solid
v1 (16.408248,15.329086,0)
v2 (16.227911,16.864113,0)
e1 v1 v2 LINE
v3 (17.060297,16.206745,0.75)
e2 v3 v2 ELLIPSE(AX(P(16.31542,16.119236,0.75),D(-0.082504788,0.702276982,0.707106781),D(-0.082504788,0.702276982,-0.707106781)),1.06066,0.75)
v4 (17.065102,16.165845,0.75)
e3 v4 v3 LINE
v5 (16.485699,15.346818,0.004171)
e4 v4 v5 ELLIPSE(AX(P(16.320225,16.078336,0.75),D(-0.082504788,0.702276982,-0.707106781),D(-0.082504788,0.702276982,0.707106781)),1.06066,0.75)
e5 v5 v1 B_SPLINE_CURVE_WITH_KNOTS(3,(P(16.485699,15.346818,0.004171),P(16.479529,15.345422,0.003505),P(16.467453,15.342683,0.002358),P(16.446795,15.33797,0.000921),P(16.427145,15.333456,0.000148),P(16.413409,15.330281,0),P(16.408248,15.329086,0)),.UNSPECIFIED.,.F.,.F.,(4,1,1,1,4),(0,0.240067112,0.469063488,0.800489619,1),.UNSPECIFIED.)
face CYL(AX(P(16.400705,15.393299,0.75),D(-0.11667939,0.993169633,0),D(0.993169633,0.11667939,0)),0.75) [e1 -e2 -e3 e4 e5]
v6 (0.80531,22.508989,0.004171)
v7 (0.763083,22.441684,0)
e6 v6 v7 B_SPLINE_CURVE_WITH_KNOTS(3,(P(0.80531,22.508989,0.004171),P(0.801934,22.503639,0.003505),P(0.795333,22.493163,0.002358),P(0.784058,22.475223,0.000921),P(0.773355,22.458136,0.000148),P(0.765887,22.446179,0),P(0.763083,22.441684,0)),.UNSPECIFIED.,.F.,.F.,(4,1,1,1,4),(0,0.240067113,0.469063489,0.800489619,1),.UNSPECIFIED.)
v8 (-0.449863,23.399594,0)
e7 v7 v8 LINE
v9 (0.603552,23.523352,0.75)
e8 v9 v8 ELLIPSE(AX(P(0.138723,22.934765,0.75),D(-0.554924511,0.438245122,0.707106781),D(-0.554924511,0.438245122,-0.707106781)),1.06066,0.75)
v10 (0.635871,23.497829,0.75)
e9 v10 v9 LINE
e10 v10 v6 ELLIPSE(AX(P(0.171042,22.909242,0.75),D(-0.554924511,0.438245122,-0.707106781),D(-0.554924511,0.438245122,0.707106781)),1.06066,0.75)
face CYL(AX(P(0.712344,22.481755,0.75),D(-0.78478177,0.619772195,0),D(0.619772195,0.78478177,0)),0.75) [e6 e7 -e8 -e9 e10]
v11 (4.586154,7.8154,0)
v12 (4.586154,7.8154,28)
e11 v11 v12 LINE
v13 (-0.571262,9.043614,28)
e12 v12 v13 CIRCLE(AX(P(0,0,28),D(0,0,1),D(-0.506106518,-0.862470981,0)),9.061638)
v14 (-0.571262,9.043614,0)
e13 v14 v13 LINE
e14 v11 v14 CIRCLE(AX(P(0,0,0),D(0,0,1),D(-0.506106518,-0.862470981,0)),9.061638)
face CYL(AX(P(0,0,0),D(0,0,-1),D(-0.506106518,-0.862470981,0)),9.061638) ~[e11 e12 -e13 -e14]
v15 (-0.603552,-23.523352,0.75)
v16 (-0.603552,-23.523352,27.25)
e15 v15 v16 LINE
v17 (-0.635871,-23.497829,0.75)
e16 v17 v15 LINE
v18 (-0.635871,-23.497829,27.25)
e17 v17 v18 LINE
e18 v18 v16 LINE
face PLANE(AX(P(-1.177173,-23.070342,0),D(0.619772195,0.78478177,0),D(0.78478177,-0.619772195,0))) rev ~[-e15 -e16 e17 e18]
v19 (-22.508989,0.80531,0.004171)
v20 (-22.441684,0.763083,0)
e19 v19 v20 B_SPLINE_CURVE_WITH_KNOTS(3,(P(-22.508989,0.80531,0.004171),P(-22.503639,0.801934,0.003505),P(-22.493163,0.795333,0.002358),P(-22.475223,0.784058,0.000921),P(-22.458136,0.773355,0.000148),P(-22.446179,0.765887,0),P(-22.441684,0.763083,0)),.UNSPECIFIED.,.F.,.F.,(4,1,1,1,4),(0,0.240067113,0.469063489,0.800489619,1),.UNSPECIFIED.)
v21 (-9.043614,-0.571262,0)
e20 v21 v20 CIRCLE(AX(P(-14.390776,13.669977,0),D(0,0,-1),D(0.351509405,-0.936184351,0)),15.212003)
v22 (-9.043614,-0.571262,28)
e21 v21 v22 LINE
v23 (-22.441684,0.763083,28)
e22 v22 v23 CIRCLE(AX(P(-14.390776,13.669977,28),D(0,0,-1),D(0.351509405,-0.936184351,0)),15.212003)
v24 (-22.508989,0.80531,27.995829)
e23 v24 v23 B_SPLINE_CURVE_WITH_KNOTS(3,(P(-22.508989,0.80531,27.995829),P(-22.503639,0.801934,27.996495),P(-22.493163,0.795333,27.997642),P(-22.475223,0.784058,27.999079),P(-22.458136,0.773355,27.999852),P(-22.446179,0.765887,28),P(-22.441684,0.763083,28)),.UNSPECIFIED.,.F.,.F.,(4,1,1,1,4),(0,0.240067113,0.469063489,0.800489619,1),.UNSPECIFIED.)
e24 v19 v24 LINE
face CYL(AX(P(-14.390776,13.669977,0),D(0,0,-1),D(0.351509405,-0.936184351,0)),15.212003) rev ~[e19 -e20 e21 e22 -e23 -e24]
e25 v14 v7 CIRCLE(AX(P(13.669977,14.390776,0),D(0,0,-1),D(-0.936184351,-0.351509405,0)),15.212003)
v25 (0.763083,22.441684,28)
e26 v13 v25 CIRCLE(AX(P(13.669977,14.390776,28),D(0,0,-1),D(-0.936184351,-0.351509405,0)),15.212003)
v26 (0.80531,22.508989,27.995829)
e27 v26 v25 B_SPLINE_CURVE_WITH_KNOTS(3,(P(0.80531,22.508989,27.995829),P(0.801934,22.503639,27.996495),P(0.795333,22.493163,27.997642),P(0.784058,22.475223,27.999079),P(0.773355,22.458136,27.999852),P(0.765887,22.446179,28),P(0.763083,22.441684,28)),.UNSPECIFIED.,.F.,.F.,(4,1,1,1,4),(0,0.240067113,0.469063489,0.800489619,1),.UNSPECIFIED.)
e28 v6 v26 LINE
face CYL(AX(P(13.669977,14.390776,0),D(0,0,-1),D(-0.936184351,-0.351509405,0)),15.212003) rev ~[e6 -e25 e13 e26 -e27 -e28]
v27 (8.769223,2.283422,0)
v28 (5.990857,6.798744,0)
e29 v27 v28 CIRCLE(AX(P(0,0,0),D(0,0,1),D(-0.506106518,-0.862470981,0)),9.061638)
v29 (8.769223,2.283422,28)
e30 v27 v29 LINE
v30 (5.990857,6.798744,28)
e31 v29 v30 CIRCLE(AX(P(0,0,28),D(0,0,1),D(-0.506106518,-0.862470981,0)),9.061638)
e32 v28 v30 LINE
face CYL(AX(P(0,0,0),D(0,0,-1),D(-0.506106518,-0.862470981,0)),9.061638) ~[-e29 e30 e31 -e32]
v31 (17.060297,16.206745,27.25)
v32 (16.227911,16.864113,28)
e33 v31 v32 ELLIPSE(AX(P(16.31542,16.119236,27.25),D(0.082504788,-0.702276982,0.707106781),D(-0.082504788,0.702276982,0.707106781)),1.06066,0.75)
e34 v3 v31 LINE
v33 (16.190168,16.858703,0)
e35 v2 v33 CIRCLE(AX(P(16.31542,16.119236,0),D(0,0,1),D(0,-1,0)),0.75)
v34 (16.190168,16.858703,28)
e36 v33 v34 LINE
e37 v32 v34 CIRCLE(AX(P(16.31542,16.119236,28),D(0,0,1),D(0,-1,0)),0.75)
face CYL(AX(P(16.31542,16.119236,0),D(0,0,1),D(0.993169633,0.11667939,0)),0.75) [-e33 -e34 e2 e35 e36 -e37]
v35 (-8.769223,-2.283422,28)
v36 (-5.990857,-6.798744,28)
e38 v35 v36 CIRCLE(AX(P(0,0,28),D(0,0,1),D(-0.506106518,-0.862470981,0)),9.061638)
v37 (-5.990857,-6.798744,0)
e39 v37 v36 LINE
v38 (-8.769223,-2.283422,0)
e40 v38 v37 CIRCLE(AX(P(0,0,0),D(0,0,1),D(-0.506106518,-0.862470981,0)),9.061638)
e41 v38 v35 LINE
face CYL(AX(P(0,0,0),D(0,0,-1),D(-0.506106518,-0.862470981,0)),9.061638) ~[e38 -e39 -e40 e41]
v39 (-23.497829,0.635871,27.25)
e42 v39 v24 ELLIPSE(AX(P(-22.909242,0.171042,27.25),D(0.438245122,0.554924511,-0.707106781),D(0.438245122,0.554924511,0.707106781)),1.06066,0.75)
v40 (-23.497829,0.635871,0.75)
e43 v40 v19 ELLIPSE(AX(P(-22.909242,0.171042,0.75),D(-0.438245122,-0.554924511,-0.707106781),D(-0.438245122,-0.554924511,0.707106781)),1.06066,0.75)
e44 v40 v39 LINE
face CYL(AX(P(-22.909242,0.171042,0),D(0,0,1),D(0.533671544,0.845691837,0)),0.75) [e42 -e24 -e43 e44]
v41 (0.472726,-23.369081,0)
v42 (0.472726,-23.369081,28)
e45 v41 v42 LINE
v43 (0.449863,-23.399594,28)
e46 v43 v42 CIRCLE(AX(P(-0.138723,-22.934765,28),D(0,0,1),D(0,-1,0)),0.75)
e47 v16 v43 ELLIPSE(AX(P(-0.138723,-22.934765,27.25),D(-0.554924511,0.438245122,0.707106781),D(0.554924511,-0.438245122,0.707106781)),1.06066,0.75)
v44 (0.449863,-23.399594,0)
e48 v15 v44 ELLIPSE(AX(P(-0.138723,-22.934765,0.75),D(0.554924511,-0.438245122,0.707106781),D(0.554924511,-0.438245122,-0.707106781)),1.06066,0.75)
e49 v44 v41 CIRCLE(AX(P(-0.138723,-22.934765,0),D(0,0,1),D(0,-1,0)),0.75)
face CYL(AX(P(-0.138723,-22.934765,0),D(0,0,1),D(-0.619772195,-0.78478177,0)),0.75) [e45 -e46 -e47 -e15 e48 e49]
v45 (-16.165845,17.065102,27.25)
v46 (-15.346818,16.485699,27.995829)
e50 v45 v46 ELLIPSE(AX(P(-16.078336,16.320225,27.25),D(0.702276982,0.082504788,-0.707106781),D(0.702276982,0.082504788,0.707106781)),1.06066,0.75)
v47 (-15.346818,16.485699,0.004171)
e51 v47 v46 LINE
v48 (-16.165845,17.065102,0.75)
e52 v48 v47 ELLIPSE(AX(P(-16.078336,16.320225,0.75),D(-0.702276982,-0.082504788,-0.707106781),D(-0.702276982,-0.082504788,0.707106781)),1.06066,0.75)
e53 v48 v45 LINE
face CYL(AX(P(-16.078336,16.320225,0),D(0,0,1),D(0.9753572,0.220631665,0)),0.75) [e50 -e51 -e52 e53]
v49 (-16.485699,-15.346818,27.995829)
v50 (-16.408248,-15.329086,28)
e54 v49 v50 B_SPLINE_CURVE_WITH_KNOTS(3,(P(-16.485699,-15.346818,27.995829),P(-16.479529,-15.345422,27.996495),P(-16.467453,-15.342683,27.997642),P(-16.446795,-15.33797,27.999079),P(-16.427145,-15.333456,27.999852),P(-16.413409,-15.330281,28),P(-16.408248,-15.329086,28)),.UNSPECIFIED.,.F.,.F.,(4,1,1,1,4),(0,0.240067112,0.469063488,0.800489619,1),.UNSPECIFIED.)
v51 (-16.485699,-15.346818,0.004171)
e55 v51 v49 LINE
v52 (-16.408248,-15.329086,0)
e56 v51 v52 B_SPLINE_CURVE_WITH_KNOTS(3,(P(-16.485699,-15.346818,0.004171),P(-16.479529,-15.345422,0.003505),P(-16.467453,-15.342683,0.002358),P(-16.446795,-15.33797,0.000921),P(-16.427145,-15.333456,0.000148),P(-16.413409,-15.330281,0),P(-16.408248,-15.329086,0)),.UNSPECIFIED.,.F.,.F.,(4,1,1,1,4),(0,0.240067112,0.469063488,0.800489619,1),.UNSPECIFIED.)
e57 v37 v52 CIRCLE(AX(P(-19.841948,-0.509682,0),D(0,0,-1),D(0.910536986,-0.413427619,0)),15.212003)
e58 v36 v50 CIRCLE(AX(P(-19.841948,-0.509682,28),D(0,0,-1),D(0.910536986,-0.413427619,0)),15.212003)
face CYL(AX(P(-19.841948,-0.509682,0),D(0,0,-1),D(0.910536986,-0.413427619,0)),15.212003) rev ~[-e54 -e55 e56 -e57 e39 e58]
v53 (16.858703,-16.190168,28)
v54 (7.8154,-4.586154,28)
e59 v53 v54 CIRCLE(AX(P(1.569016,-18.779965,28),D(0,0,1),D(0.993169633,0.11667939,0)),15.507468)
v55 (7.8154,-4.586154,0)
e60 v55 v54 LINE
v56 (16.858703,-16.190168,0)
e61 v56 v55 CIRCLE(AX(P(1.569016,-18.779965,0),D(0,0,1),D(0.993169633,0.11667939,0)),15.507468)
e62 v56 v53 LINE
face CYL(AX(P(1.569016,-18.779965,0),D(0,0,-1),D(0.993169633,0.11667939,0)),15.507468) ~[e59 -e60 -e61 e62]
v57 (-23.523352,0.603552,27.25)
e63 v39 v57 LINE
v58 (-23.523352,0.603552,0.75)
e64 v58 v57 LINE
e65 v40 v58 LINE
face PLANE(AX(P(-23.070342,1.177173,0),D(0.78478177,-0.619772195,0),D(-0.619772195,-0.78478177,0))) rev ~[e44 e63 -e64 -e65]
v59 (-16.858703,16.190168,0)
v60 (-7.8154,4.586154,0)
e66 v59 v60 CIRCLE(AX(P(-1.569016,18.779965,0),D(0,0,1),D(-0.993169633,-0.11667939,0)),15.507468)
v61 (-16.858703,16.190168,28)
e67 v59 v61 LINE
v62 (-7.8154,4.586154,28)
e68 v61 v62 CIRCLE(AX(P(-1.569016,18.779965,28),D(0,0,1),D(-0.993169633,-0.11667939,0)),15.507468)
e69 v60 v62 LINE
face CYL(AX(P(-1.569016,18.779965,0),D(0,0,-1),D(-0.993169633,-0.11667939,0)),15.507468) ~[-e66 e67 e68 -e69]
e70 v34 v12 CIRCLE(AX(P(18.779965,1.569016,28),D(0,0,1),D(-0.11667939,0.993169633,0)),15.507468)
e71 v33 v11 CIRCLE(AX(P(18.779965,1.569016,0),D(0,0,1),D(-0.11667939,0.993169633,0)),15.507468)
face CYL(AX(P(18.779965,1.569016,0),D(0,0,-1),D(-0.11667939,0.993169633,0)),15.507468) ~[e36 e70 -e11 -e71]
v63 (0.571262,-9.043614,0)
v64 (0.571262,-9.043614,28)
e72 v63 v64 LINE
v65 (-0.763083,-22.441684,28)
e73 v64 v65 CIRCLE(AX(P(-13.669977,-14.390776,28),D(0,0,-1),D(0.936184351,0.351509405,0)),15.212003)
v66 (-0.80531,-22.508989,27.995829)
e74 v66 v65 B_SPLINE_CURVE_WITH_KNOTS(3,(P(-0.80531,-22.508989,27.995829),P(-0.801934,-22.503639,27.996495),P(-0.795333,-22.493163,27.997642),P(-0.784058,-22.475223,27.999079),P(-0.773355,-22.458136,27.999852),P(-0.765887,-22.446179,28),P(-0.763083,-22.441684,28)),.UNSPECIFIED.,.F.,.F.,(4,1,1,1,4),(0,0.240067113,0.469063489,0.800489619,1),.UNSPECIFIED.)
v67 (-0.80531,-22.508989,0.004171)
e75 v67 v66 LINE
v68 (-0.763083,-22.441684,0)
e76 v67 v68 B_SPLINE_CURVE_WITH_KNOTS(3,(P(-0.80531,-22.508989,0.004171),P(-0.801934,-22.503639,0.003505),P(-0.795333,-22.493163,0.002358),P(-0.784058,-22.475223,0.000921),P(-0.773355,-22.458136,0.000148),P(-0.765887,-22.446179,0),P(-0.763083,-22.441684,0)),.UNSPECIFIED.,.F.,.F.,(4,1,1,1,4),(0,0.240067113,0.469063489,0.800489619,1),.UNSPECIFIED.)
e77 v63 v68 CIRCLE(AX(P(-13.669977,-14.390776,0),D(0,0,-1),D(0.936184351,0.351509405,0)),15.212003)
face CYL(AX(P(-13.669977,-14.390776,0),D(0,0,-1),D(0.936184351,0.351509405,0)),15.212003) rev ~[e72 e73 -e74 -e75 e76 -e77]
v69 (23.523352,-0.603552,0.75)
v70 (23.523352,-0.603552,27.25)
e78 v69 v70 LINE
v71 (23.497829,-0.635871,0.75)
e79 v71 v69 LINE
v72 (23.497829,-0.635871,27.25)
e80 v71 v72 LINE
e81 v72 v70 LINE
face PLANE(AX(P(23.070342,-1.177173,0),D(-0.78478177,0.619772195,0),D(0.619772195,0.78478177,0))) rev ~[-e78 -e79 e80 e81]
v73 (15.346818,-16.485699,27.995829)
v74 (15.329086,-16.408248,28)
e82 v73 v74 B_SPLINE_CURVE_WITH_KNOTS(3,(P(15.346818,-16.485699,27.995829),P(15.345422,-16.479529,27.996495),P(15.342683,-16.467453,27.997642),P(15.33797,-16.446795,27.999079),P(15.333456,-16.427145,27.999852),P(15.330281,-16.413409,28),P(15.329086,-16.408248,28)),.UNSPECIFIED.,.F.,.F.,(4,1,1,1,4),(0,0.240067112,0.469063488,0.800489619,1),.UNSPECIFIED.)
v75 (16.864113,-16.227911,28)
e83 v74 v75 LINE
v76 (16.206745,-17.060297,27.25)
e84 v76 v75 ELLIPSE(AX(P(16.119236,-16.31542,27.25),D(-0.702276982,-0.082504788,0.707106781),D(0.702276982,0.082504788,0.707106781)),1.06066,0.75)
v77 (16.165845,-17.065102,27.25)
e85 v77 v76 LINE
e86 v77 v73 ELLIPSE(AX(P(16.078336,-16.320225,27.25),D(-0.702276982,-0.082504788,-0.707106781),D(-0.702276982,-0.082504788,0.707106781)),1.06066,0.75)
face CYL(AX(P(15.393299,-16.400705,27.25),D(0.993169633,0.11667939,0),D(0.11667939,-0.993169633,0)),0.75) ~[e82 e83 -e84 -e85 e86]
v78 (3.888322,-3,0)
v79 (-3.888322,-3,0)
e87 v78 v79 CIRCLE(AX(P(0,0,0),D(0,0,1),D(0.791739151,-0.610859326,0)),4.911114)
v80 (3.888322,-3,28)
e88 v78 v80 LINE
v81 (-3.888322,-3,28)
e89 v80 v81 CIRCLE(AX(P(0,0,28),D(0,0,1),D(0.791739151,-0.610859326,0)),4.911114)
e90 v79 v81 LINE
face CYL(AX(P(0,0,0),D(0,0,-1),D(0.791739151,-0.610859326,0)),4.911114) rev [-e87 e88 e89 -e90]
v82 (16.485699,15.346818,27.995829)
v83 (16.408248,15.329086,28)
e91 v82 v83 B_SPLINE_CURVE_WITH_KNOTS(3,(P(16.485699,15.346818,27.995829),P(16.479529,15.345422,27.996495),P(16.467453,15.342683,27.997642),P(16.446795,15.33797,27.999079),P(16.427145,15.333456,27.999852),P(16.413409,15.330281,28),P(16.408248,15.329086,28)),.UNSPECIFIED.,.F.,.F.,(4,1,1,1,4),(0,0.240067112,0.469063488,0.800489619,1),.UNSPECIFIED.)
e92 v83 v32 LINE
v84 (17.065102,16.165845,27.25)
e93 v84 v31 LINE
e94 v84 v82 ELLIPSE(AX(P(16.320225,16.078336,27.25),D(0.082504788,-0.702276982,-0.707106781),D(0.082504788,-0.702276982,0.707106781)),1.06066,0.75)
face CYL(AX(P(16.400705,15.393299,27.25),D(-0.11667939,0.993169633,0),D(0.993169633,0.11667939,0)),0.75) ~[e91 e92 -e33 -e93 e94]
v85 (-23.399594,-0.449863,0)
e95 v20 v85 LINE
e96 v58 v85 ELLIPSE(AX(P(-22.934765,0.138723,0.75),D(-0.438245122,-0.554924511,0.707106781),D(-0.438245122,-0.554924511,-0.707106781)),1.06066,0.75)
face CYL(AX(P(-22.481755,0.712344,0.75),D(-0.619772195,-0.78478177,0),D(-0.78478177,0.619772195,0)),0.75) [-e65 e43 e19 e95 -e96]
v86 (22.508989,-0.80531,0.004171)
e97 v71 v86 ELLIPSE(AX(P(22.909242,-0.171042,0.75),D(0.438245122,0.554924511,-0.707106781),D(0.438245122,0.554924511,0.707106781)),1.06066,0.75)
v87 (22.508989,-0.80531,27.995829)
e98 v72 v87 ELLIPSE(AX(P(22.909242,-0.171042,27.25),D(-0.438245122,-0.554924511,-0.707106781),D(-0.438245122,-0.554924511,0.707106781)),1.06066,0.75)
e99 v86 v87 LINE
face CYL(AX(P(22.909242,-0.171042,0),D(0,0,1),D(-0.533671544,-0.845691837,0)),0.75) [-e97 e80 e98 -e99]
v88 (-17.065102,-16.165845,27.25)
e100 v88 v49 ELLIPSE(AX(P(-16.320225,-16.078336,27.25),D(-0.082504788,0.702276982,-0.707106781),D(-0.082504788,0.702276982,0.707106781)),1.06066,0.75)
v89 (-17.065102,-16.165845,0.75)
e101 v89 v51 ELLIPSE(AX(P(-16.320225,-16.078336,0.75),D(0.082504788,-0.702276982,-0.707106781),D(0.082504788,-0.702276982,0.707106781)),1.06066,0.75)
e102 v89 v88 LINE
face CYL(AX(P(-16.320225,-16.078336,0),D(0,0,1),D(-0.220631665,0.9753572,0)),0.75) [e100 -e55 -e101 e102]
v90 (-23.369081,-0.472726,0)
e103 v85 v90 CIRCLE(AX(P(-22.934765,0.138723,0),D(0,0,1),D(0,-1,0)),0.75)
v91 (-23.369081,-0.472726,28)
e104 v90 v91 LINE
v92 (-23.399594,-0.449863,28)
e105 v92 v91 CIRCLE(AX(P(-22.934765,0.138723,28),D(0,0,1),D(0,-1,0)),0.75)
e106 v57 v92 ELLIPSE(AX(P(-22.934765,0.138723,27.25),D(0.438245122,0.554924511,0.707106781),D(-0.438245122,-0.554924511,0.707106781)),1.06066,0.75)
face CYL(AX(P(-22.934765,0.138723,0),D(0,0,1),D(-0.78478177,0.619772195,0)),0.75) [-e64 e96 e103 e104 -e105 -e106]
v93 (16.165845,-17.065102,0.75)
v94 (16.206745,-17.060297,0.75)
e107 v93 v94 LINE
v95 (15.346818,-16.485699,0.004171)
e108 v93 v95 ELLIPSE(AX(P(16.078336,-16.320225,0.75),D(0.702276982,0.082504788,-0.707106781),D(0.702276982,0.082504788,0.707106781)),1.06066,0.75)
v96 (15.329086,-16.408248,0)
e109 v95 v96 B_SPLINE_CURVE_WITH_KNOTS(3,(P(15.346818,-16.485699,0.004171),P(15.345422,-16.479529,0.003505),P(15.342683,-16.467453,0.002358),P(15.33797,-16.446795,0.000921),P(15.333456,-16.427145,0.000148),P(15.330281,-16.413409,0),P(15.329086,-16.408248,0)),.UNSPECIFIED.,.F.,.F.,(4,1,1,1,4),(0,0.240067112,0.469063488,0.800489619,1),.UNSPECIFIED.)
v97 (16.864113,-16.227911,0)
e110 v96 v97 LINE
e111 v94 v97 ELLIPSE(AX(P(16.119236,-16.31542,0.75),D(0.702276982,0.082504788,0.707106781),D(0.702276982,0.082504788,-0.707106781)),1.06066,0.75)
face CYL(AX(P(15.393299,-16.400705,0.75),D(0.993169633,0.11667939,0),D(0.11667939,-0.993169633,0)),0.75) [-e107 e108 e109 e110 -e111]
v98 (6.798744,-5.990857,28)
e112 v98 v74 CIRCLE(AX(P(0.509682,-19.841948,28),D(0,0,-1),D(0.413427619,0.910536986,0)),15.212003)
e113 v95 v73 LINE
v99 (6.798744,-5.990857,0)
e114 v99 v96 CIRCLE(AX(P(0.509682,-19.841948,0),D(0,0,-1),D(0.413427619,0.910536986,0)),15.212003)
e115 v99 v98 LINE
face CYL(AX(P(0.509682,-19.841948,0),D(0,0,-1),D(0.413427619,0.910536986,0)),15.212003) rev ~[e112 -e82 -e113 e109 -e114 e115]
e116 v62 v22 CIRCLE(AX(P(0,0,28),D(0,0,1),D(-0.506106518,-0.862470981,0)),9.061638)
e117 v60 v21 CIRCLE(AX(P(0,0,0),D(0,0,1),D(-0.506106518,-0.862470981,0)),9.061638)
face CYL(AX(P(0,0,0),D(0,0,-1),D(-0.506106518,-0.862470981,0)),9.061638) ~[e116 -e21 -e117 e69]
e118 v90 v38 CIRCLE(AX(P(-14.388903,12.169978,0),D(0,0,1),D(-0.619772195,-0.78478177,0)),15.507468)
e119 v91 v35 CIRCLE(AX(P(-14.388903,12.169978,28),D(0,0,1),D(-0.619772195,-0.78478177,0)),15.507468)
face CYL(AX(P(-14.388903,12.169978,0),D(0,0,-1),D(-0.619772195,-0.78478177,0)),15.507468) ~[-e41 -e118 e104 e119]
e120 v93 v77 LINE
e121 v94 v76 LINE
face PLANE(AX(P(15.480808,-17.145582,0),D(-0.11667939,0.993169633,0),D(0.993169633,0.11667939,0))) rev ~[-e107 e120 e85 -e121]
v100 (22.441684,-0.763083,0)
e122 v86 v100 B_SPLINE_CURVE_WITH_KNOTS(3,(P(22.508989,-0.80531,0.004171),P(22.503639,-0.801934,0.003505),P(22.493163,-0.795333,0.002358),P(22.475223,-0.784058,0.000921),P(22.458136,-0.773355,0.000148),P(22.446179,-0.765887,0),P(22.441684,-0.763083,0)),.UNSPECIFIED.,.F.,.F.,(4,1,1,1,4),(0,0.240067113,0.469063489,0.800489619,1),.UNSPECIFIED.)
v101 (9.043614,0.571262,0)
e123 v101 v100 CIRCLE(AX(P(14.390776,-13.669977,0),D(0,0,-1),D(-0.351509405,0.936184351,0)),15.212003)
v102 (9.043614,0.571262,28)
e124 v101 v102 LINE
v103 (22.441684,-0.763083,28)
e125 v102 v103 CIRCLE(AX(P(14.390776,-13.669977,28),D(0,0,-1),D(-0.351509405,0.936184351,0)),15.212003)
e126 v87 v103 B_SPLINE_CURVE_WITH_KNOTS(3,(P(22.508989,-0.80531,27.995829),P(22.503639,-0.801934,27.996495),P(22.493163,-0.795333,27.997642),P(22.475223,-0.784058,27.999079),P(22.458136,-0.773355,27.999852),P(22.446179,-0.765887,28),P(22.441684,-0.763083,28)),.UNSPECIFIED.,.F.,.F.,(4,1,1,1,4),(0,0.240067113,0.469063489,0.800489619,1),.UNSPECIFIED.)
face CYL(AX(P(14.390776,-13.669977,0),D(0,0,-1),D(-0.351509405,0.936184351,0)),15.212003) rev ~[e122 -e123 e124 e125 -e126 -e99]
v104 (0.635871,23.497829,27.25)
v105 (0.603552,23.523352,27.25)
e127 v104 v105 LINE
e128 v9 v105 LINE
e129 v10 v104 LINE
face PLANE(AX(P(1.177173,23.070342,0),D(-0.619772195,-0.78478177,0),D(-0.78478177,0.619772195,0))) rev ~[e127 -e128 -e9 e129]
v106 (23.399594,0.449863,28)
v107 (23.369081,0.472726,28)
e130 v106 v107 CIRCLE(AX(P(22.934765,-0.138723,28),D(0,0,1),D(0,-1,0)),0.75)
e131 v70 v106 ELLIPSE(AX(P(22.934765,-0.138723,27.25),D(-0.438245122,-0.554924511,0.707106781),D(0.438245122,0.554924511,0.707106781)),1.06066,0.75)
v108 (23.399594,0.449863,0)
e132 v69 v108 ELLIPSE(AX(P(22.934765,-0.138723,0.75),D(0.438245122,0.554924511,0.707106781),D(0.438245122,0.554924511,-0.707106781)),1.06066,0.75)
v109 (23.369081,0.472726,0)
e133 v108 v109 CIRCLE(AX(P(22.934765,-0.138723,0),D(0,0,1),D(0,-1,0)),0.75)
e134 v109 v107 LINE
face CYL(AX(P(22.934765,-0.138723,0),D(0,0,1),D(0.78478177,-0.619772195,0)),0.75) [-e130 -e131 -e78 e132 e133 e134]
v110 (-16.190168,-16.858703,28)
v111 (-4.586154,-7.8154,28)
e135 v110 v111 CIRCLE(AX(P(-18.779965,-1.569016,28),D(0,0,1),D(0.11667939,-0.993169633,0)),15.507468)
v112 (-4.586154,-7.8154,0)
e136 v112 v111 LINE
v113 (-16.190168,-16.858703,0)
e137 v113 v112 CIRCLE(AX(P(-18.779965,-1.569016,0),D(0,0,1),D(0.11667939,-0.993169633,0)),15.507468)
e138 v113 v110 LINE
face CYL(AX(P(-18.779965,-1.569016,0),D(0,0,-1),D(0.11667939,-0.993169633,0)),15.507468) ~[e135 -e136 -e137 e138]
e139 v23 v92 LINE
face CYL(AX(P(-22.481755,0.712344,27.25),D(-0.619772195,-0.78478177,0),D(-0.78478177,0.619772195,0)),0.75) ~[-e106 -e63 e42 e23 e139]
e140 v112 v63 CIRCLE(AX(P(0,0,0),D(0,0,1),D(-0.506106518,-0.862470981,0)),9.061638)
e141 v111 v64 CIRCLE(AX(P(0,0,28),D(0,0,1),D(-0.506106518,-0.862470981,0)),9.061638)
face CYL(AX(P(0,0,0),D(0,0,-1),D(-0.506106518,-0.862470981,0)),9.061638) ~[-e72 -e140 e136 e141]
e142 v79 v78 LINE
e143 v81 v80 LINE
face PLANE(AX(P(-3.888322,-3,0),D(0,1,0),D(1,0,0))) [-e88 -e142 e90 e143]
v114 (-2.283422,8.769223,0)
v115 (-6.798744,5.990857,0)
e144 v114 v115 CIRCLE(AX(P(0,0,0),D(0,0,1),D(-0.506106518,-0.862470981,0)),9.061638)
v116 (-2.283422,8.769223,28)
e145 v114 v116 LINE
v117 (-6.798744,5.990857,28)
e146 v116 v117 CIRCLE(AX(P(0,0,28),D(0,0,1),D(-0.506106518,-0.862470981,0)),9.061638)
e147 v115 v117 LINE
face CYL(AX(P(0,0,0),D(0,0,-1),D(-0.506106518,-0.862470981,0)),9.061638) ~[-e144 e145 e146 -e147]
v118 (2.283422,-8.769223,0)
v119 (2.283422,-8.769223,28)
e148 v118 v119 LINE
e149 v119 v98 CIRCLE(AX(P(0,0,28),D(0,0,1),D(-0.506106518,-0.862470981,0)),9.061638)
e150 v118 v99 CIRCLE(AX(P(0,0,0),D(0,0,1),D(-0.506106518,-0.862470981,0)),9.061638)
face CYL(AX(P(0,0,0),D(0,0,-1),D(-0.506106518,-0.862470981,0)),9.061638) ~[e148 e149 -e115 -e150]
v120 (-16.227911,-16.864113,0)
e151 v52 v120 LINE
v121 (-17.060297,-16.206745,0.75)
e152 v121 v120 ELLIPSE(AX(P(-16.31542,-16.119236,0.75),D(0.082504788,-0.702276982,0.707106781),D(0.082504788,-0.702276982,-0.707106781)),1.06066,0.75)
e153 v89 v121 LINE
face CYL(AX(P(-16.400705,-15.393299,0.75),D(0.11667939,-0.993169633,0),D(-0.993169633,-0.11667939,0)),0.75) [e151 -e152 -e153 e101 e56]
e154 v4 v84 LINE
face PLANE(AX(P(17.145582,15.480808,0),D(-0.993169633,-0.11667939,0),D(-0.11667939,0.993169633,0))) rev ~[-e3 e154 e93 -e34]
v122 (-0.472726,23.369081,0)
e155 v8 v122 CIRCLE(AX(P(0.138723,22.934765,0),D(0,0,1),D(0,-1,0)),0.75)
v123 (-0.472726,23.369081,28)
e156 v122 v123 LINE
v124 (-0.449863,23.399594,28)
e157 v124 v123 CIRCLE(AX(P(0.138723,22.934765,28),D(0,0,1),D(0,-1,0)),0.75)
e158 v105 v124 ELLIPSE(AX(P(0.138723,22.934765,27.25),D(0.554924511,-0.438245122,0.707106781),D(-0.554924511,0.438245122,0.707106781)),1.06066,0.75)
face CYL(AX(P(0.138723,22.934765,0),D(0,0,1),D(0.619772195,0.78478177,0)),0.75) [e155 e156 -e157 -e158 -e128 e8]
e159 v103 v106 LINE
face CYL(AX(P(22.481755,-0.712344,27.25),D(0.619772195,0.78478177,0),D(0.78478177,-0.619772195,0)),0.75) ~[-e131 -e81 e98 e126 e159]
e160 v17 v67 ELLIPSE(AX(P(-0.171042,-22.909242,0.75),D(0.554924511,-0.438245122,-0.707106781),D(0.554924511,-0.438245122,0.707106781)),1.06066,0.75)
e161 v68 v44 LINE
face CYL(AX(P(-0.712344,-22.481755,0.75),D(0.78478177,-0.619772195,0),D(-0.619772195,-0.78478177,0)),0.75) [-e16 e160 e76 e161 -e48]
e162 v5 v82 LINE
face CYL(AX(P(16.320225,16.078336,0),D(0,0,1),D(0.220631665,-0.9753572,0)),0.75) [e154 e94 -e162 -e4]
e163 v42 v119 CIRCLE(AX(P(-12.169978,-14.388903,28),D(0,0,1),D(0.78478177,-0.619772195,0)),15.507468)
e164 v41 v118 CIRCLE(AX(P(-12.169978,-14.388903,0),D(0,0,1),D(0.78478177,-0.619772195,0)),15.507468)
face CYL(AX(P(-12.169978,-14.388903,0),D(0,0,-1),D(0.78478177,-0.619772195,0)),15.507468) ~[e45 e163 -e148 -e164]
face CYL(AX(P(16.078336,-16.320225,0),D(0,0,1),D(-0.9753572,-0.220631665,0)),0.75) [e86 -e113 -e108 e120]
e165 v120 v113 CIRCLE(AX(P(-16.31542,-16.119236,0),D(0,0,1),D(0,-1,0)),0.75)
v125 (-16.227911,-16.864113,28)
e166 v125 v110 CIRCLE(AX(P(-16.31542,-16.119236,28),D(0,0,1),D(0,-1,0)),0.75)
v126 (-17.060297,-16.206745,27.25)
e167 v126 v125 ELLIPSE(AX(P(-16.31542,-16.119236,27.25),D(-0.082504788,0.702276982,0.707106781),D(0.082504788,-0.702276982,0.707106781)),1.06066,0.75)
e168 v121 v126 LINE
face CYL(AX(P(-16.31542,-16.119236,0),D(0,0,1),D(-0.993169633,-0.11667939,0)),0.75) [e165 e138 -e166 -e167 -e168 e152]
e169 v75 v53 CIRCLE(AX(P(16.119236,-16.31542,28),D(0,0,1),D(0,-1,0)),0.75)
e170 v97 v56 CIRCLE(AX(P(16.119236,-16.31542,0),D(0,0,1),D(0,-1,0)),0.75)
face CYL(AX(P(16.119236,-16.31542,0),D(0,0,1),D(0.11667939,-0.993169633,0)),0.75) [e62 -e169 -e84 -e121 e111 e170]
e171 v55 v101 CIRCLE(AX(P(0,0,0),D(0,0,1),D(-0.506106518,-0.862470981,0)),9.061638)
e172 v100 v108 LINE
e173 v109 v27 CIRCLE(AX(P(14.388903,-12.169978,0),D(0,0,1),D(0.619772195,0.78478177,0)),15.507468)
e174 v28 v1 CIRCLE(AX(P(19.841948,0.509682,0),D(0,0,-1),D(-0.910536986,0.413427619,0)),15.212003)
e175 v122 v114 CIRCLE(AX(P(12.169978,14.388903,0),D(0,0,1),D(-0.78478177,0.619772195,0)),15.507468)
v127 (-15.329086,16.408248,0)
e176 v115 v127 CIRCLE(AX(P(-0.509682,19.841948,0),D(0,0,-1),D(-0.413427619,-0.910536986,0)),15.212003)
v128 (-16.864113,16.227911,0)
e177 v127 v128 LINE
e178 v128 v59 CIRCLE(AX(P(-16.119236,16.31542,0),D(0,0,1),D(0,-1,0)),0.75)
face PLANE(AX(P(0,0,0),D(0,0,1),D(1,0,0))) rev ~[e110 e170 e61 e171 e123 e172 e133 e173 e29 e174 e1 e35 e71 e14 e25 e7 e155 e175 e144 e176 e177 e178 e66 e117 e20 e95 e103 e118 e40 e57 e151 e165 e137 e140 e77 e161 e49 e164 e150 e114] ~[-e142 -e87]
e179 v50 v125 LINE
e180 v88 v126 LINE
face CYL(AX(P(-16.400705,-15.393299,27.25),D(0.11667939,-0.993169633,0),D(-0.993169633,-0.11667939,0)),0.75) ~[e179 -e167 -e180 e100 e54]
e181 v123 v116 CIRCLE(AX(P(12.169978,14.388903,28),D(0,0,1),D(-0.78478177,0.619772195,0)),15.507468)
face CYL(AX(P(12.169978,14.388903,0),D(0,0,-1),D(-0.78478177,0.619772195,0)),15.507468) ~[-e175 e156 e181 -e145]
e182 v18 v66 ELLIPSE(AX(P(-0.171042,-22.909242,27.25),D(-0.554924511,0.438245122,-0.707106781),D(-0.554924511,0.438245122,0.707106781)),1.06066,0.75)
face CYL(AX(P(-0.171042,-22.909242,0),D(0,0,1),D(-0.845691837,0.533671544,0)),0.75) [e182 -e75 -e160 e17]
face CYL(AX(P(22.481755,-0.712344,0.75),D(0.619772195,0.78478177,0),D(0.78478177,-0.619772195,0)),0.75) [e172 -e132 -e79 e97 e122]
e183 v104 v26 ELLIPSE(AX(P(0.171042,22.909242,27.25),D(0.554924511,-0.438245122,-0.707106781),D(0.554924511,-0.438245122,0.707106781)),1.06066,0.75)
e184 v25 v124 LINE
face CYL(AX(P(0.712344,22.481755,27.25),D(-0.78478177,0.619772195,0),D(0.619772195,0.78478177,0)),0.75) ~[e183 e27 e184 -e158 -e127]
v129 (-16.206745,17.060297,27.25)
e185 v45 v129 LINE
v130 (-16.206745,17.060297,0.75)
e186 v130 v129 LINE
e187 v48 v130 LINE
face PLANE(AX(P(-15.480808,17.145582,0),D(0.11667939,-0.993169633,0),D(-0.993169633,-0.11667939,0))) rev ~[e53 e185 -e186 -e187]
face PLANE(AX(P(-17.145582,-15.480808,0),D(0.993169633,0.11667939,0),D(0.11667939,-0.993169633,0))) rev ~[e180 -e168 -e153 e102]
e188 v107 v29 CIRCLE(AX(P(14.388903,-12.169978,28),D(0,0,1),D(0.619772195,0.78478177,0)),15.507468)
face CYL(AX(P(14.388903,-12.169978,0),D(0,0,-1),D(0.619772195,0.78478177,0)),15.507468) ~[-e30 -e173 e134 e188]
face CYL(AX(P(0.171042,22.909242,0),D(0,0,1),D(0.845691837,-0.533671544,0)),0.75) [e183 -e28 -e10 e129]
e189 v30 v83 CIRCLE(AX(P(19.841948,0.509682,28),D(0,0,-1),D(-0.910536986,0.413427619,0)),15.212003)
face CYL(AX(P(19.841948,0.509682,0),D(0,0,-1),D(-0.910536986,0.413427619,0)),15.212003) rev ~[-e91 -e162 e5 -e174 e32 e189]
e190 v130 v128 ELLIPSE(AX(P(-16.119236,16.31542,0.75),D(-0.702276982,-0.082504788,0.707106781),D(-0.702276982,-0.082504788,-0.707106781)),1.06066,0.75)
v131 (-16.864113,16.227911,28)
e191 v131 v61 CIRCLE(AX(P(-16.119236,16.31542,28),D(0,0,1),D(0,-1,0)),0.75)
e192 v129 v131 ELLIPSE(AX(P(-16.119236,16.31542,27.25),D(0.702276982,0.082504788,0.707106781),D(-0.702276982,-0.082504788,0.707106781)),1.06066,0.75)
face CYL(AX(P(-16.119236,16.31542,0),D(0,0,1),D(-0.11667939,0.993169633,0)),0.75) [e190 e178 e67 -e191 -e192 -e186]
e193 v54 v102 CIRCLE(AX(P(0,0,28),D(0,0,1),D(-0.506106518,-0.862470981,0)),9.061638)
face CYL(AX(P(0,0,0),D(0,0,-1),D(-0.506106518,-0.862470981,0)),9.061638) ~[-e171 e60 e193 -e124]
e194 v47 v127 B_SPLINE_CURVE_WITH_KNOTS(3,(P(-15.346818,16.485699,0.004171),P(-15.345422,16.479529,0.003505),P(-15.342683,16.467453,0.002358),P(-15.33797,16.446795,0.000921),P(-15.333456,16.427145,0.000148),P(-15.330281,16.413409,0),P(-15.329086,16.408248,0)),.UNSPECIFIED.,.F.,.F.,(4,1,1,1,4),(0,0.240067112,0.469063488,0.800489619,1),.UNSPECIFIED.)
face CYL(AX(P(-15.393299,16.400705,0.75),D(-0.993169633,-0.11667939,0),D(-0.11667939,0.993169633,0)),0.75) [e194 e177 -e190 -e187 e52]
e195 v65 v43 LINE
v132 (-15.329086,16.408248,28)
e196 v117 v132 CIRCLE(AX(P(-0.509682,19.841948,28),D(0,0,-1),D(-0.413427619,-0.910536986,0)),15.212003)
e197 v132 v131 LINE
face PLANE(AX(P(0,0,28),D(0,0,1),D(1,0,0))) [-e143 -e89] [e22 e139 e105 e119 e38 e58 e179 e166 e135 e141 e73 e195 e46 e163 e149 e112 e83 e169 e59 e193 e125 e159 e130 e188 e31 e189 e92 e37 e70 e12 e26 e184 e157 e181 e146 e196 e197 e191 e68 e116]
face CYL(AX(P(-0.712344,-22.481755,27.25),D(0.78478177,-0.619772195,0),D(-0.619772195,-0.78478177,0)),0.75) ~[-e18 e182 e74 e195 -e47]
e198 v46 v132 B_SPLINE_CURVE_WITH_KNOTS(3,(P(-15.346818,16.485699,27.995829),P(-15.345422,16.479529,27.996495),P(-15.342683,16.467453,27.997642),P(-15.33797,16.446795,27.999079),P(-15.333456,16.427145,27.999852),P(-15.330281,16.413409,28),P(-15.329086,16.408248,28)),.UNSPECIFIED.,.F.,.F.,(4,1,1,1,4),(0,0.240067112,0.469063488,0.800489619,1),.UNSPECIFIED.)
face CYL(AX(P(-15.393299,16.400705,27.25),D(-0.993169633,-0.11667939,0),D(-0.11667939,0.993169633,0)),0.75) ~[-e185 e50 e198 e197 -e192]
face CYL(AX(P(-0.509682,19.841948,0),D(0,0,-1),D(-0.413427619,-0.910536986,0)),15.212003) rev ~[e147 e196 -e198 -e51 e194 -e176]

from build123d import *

# Parameters (mm, degrees)
SKETCH1_R           = 9.061638146
BOSS_EXTRUDE1_DEPTH = 28
FILLET1_R           = 0.75


with BuildPart() as part:
    # Sketch1 → Boss-Extrude1 (new body)
    with BuildSketch(Plane.XY):
        Circle(SKETCH1_R)
        with BuildLine():
            ThreePointArc((3.888321502, -3), (0, 4.911114344), (-3.888321502, -3))
            Line((-3.888321502, -3), (3.888321502, -3))
        make_face(mode=Mode.SUBTRACT)
        with BuildLine():
            ThreePointArc((-4.58615413, -7.815399938), (-5.312879632, -7.340749002), (-5.990857259, -6.798743648))
            ThreePointArc((-5.990857259, -6.798743648), (-10.498546947, -12.514092303), (-17.145581833, -15.480808299))
            Line((-17.145581833, -15.480808299), (-16.970562748, -16.970562748))
            ThreePointArc((-16.970562748, -16.970562748), (-9.561507432, -14.039044926), (-4.58615413, -7.815399938))
        make_face()
        with BuildLine():
            ThreePointArc((-8.769222979, -2.283421609), (-8.947466614, -1.433920183), (-9.04361353, -0.571261944))
            ThreePointArc((-9.04361353, -0.571261944), (-16.272393267, -1.425205789), (-23.070341708, 1.177172655))
            Line((-23.070341708, 1.177172655), (-24, 0))
            ThreePointArc((-24, 0), (-16.688110612, -3.166097125), (-8.769222979, -2.283421609))
        make_face()
        with BuildLine():
            ThreePointArc((-7.815399938, 4.58615413), (-7.340749002, 5.312879632), (-6.798743648, 5.990857259))
            ThreePointArc((-6.798743648, 5.990857259), (-12.514092303, 10.498546947), (-15.480808299, 17.145581833))
            Line((-15.480808299, 17.145581833), (-16.970562748, 16.970562748))
            ThreePointArc((-16.970562748, 16.970562748), (-14.039044926, 9.561507432), (-7.815399938, 4.58615413))
        make_face()
        with BuildLine():
            Line((1.177172655, 23.070341708), (0, 24))
            ThreePointArc((0, 24), (-3.166097125, 16.688110612), (-2.283421609, 8.769222979))
            ThreePointArc((-2.283421609, 8.769222979), (-1.433920183, 8.947466614), (-0.571261944, 9.04361353))
            ThreePointArc((-0.571261944, 9.04361353), (-1.425205789, 16.272393267), (1.177172655, 23.070341708))
        make_face()
        with BuildLine():
            ThreePointArc((16.970562748, 16.970562748), (9.561507432, 14.039044926), (4.58615413, 7.815399938))
            ThreePointArc((4.58615413, 7.815399938), (5.312879632, 7.340749002), (5.990857259, 6.798743648))
            ThreePointArc((5.990857259, 6.798743648), (10.498546947, 12.514092303), (17.145581833, 15.480808299))
            Line((17.145581833, 15.480808299), (16.970562748, 16.970562748))
        make_face()
        with BuildLine():
            ThreePointArc((24, 0), (16.688110612, 3.166097125), (8.769222979, 2.283421609))
            ThreePointArc((8.769222979, 2.283421609), (8.947466614, 1.433920183), (9.04361353, 0.571261944))
            ThreePointArc((9.04361353, 0.571261944), (16.272393267, 1.425205789), (23.070341708, -1.177172655))
            Line((23.070341708, -1.177172655), (24, 0))
        make_face()
        with BuildLine():
            ThreePointArc((16.970562748, -16.970562748), (14.039044926, -9.561507432), (7.815399938, -4.58615413))
            ThreePointArc((7.815399938, -4.58615413), (7.340749002, -5.312879632), (6.798743648, -5.990857259))
            ThreePointArc((6.798743648, -5.990857259), (12.514092303, -10.498546947), (15.480808299, -17.145581833))
            Line((15.480808299, -17.145581833), (16.970562748, -16.970562748))
        make_face()
        with BuildLine():
            ThreePointArc((2.283421609, -8.769222979), (1.433920183, -8.947466614), (0.571261944, -9.04361353))
            ThreePointArc((0.571261944, -9.04361353), (1.425205789, -16.272393267), (-1.177172655, -23.070341708))
            Line((-1.177172655, -23.070341708), (0, -24))
            ThreePointArc((0, -24), (3.166097125, -16.688110612), (2.283421609, -8.769222979))
        make_face()
    extrude(amount=BOSS_EXTRUDE1_DEPTH)

    # Fillet1
    fillet1_edges = [part.edges().sort_by_distance(p)[0] for p in [
        (-17.058072291, -16.225685524, 28),
        (-0.588586328, -23.535170854, 28),
        (16.225685524, -17.058072291, 28),
        (23.535170854, -0.588586328, 28),
        (16.225685524, -17.058072291, 0),
        (-0.588586328, -23.535170854, 0),
        (-17.058072291, -16.225685524, 0),
        (-23.535170854, 0.588586328, 0),
        (-16.225685524, 17.058072291, 0),
        (17.058072291, 16.225685524, 28),
        (0.588586328, 23.535170854, 0),
        (17.058072291, 16.225685524, 0),
        (23.535170854, -0.588586328, 0),
        (16.970562748, -16.970562748, 14),
        (15.480808299, -17.145581833, 14),
        (0, -24, 14),
        (-1.177172655, -23.070341708, 14),
        (0.588586328, 23.535170854, 28),
        (-16.970562748, -16.970562748, 14),
        (-17.145581833, -15.480808299, 14),
        (-24, 0, 14),
        (-23.070341708, 1.177172655, 14),
        (-16.970562748, 16.970562748, 14),
        (-15.480808299, 17.145581833, 14),
        (0, 24, 14),
        (1.177172655, 23.070341708, 14),
        (16.970562748, 16.970562748, 14),
        (17.145581833, 15.480808299, 14),
        (24, 0, 14),
        (23.070341708, -1.177172655, 14),
        (-16.225685524, 17.058072291, 28),
        (-23.535170854, 0.588586328, 28),
    ]]
    fillet(fillet1_edges, radius=FILLET1_R)


solid = part.part
